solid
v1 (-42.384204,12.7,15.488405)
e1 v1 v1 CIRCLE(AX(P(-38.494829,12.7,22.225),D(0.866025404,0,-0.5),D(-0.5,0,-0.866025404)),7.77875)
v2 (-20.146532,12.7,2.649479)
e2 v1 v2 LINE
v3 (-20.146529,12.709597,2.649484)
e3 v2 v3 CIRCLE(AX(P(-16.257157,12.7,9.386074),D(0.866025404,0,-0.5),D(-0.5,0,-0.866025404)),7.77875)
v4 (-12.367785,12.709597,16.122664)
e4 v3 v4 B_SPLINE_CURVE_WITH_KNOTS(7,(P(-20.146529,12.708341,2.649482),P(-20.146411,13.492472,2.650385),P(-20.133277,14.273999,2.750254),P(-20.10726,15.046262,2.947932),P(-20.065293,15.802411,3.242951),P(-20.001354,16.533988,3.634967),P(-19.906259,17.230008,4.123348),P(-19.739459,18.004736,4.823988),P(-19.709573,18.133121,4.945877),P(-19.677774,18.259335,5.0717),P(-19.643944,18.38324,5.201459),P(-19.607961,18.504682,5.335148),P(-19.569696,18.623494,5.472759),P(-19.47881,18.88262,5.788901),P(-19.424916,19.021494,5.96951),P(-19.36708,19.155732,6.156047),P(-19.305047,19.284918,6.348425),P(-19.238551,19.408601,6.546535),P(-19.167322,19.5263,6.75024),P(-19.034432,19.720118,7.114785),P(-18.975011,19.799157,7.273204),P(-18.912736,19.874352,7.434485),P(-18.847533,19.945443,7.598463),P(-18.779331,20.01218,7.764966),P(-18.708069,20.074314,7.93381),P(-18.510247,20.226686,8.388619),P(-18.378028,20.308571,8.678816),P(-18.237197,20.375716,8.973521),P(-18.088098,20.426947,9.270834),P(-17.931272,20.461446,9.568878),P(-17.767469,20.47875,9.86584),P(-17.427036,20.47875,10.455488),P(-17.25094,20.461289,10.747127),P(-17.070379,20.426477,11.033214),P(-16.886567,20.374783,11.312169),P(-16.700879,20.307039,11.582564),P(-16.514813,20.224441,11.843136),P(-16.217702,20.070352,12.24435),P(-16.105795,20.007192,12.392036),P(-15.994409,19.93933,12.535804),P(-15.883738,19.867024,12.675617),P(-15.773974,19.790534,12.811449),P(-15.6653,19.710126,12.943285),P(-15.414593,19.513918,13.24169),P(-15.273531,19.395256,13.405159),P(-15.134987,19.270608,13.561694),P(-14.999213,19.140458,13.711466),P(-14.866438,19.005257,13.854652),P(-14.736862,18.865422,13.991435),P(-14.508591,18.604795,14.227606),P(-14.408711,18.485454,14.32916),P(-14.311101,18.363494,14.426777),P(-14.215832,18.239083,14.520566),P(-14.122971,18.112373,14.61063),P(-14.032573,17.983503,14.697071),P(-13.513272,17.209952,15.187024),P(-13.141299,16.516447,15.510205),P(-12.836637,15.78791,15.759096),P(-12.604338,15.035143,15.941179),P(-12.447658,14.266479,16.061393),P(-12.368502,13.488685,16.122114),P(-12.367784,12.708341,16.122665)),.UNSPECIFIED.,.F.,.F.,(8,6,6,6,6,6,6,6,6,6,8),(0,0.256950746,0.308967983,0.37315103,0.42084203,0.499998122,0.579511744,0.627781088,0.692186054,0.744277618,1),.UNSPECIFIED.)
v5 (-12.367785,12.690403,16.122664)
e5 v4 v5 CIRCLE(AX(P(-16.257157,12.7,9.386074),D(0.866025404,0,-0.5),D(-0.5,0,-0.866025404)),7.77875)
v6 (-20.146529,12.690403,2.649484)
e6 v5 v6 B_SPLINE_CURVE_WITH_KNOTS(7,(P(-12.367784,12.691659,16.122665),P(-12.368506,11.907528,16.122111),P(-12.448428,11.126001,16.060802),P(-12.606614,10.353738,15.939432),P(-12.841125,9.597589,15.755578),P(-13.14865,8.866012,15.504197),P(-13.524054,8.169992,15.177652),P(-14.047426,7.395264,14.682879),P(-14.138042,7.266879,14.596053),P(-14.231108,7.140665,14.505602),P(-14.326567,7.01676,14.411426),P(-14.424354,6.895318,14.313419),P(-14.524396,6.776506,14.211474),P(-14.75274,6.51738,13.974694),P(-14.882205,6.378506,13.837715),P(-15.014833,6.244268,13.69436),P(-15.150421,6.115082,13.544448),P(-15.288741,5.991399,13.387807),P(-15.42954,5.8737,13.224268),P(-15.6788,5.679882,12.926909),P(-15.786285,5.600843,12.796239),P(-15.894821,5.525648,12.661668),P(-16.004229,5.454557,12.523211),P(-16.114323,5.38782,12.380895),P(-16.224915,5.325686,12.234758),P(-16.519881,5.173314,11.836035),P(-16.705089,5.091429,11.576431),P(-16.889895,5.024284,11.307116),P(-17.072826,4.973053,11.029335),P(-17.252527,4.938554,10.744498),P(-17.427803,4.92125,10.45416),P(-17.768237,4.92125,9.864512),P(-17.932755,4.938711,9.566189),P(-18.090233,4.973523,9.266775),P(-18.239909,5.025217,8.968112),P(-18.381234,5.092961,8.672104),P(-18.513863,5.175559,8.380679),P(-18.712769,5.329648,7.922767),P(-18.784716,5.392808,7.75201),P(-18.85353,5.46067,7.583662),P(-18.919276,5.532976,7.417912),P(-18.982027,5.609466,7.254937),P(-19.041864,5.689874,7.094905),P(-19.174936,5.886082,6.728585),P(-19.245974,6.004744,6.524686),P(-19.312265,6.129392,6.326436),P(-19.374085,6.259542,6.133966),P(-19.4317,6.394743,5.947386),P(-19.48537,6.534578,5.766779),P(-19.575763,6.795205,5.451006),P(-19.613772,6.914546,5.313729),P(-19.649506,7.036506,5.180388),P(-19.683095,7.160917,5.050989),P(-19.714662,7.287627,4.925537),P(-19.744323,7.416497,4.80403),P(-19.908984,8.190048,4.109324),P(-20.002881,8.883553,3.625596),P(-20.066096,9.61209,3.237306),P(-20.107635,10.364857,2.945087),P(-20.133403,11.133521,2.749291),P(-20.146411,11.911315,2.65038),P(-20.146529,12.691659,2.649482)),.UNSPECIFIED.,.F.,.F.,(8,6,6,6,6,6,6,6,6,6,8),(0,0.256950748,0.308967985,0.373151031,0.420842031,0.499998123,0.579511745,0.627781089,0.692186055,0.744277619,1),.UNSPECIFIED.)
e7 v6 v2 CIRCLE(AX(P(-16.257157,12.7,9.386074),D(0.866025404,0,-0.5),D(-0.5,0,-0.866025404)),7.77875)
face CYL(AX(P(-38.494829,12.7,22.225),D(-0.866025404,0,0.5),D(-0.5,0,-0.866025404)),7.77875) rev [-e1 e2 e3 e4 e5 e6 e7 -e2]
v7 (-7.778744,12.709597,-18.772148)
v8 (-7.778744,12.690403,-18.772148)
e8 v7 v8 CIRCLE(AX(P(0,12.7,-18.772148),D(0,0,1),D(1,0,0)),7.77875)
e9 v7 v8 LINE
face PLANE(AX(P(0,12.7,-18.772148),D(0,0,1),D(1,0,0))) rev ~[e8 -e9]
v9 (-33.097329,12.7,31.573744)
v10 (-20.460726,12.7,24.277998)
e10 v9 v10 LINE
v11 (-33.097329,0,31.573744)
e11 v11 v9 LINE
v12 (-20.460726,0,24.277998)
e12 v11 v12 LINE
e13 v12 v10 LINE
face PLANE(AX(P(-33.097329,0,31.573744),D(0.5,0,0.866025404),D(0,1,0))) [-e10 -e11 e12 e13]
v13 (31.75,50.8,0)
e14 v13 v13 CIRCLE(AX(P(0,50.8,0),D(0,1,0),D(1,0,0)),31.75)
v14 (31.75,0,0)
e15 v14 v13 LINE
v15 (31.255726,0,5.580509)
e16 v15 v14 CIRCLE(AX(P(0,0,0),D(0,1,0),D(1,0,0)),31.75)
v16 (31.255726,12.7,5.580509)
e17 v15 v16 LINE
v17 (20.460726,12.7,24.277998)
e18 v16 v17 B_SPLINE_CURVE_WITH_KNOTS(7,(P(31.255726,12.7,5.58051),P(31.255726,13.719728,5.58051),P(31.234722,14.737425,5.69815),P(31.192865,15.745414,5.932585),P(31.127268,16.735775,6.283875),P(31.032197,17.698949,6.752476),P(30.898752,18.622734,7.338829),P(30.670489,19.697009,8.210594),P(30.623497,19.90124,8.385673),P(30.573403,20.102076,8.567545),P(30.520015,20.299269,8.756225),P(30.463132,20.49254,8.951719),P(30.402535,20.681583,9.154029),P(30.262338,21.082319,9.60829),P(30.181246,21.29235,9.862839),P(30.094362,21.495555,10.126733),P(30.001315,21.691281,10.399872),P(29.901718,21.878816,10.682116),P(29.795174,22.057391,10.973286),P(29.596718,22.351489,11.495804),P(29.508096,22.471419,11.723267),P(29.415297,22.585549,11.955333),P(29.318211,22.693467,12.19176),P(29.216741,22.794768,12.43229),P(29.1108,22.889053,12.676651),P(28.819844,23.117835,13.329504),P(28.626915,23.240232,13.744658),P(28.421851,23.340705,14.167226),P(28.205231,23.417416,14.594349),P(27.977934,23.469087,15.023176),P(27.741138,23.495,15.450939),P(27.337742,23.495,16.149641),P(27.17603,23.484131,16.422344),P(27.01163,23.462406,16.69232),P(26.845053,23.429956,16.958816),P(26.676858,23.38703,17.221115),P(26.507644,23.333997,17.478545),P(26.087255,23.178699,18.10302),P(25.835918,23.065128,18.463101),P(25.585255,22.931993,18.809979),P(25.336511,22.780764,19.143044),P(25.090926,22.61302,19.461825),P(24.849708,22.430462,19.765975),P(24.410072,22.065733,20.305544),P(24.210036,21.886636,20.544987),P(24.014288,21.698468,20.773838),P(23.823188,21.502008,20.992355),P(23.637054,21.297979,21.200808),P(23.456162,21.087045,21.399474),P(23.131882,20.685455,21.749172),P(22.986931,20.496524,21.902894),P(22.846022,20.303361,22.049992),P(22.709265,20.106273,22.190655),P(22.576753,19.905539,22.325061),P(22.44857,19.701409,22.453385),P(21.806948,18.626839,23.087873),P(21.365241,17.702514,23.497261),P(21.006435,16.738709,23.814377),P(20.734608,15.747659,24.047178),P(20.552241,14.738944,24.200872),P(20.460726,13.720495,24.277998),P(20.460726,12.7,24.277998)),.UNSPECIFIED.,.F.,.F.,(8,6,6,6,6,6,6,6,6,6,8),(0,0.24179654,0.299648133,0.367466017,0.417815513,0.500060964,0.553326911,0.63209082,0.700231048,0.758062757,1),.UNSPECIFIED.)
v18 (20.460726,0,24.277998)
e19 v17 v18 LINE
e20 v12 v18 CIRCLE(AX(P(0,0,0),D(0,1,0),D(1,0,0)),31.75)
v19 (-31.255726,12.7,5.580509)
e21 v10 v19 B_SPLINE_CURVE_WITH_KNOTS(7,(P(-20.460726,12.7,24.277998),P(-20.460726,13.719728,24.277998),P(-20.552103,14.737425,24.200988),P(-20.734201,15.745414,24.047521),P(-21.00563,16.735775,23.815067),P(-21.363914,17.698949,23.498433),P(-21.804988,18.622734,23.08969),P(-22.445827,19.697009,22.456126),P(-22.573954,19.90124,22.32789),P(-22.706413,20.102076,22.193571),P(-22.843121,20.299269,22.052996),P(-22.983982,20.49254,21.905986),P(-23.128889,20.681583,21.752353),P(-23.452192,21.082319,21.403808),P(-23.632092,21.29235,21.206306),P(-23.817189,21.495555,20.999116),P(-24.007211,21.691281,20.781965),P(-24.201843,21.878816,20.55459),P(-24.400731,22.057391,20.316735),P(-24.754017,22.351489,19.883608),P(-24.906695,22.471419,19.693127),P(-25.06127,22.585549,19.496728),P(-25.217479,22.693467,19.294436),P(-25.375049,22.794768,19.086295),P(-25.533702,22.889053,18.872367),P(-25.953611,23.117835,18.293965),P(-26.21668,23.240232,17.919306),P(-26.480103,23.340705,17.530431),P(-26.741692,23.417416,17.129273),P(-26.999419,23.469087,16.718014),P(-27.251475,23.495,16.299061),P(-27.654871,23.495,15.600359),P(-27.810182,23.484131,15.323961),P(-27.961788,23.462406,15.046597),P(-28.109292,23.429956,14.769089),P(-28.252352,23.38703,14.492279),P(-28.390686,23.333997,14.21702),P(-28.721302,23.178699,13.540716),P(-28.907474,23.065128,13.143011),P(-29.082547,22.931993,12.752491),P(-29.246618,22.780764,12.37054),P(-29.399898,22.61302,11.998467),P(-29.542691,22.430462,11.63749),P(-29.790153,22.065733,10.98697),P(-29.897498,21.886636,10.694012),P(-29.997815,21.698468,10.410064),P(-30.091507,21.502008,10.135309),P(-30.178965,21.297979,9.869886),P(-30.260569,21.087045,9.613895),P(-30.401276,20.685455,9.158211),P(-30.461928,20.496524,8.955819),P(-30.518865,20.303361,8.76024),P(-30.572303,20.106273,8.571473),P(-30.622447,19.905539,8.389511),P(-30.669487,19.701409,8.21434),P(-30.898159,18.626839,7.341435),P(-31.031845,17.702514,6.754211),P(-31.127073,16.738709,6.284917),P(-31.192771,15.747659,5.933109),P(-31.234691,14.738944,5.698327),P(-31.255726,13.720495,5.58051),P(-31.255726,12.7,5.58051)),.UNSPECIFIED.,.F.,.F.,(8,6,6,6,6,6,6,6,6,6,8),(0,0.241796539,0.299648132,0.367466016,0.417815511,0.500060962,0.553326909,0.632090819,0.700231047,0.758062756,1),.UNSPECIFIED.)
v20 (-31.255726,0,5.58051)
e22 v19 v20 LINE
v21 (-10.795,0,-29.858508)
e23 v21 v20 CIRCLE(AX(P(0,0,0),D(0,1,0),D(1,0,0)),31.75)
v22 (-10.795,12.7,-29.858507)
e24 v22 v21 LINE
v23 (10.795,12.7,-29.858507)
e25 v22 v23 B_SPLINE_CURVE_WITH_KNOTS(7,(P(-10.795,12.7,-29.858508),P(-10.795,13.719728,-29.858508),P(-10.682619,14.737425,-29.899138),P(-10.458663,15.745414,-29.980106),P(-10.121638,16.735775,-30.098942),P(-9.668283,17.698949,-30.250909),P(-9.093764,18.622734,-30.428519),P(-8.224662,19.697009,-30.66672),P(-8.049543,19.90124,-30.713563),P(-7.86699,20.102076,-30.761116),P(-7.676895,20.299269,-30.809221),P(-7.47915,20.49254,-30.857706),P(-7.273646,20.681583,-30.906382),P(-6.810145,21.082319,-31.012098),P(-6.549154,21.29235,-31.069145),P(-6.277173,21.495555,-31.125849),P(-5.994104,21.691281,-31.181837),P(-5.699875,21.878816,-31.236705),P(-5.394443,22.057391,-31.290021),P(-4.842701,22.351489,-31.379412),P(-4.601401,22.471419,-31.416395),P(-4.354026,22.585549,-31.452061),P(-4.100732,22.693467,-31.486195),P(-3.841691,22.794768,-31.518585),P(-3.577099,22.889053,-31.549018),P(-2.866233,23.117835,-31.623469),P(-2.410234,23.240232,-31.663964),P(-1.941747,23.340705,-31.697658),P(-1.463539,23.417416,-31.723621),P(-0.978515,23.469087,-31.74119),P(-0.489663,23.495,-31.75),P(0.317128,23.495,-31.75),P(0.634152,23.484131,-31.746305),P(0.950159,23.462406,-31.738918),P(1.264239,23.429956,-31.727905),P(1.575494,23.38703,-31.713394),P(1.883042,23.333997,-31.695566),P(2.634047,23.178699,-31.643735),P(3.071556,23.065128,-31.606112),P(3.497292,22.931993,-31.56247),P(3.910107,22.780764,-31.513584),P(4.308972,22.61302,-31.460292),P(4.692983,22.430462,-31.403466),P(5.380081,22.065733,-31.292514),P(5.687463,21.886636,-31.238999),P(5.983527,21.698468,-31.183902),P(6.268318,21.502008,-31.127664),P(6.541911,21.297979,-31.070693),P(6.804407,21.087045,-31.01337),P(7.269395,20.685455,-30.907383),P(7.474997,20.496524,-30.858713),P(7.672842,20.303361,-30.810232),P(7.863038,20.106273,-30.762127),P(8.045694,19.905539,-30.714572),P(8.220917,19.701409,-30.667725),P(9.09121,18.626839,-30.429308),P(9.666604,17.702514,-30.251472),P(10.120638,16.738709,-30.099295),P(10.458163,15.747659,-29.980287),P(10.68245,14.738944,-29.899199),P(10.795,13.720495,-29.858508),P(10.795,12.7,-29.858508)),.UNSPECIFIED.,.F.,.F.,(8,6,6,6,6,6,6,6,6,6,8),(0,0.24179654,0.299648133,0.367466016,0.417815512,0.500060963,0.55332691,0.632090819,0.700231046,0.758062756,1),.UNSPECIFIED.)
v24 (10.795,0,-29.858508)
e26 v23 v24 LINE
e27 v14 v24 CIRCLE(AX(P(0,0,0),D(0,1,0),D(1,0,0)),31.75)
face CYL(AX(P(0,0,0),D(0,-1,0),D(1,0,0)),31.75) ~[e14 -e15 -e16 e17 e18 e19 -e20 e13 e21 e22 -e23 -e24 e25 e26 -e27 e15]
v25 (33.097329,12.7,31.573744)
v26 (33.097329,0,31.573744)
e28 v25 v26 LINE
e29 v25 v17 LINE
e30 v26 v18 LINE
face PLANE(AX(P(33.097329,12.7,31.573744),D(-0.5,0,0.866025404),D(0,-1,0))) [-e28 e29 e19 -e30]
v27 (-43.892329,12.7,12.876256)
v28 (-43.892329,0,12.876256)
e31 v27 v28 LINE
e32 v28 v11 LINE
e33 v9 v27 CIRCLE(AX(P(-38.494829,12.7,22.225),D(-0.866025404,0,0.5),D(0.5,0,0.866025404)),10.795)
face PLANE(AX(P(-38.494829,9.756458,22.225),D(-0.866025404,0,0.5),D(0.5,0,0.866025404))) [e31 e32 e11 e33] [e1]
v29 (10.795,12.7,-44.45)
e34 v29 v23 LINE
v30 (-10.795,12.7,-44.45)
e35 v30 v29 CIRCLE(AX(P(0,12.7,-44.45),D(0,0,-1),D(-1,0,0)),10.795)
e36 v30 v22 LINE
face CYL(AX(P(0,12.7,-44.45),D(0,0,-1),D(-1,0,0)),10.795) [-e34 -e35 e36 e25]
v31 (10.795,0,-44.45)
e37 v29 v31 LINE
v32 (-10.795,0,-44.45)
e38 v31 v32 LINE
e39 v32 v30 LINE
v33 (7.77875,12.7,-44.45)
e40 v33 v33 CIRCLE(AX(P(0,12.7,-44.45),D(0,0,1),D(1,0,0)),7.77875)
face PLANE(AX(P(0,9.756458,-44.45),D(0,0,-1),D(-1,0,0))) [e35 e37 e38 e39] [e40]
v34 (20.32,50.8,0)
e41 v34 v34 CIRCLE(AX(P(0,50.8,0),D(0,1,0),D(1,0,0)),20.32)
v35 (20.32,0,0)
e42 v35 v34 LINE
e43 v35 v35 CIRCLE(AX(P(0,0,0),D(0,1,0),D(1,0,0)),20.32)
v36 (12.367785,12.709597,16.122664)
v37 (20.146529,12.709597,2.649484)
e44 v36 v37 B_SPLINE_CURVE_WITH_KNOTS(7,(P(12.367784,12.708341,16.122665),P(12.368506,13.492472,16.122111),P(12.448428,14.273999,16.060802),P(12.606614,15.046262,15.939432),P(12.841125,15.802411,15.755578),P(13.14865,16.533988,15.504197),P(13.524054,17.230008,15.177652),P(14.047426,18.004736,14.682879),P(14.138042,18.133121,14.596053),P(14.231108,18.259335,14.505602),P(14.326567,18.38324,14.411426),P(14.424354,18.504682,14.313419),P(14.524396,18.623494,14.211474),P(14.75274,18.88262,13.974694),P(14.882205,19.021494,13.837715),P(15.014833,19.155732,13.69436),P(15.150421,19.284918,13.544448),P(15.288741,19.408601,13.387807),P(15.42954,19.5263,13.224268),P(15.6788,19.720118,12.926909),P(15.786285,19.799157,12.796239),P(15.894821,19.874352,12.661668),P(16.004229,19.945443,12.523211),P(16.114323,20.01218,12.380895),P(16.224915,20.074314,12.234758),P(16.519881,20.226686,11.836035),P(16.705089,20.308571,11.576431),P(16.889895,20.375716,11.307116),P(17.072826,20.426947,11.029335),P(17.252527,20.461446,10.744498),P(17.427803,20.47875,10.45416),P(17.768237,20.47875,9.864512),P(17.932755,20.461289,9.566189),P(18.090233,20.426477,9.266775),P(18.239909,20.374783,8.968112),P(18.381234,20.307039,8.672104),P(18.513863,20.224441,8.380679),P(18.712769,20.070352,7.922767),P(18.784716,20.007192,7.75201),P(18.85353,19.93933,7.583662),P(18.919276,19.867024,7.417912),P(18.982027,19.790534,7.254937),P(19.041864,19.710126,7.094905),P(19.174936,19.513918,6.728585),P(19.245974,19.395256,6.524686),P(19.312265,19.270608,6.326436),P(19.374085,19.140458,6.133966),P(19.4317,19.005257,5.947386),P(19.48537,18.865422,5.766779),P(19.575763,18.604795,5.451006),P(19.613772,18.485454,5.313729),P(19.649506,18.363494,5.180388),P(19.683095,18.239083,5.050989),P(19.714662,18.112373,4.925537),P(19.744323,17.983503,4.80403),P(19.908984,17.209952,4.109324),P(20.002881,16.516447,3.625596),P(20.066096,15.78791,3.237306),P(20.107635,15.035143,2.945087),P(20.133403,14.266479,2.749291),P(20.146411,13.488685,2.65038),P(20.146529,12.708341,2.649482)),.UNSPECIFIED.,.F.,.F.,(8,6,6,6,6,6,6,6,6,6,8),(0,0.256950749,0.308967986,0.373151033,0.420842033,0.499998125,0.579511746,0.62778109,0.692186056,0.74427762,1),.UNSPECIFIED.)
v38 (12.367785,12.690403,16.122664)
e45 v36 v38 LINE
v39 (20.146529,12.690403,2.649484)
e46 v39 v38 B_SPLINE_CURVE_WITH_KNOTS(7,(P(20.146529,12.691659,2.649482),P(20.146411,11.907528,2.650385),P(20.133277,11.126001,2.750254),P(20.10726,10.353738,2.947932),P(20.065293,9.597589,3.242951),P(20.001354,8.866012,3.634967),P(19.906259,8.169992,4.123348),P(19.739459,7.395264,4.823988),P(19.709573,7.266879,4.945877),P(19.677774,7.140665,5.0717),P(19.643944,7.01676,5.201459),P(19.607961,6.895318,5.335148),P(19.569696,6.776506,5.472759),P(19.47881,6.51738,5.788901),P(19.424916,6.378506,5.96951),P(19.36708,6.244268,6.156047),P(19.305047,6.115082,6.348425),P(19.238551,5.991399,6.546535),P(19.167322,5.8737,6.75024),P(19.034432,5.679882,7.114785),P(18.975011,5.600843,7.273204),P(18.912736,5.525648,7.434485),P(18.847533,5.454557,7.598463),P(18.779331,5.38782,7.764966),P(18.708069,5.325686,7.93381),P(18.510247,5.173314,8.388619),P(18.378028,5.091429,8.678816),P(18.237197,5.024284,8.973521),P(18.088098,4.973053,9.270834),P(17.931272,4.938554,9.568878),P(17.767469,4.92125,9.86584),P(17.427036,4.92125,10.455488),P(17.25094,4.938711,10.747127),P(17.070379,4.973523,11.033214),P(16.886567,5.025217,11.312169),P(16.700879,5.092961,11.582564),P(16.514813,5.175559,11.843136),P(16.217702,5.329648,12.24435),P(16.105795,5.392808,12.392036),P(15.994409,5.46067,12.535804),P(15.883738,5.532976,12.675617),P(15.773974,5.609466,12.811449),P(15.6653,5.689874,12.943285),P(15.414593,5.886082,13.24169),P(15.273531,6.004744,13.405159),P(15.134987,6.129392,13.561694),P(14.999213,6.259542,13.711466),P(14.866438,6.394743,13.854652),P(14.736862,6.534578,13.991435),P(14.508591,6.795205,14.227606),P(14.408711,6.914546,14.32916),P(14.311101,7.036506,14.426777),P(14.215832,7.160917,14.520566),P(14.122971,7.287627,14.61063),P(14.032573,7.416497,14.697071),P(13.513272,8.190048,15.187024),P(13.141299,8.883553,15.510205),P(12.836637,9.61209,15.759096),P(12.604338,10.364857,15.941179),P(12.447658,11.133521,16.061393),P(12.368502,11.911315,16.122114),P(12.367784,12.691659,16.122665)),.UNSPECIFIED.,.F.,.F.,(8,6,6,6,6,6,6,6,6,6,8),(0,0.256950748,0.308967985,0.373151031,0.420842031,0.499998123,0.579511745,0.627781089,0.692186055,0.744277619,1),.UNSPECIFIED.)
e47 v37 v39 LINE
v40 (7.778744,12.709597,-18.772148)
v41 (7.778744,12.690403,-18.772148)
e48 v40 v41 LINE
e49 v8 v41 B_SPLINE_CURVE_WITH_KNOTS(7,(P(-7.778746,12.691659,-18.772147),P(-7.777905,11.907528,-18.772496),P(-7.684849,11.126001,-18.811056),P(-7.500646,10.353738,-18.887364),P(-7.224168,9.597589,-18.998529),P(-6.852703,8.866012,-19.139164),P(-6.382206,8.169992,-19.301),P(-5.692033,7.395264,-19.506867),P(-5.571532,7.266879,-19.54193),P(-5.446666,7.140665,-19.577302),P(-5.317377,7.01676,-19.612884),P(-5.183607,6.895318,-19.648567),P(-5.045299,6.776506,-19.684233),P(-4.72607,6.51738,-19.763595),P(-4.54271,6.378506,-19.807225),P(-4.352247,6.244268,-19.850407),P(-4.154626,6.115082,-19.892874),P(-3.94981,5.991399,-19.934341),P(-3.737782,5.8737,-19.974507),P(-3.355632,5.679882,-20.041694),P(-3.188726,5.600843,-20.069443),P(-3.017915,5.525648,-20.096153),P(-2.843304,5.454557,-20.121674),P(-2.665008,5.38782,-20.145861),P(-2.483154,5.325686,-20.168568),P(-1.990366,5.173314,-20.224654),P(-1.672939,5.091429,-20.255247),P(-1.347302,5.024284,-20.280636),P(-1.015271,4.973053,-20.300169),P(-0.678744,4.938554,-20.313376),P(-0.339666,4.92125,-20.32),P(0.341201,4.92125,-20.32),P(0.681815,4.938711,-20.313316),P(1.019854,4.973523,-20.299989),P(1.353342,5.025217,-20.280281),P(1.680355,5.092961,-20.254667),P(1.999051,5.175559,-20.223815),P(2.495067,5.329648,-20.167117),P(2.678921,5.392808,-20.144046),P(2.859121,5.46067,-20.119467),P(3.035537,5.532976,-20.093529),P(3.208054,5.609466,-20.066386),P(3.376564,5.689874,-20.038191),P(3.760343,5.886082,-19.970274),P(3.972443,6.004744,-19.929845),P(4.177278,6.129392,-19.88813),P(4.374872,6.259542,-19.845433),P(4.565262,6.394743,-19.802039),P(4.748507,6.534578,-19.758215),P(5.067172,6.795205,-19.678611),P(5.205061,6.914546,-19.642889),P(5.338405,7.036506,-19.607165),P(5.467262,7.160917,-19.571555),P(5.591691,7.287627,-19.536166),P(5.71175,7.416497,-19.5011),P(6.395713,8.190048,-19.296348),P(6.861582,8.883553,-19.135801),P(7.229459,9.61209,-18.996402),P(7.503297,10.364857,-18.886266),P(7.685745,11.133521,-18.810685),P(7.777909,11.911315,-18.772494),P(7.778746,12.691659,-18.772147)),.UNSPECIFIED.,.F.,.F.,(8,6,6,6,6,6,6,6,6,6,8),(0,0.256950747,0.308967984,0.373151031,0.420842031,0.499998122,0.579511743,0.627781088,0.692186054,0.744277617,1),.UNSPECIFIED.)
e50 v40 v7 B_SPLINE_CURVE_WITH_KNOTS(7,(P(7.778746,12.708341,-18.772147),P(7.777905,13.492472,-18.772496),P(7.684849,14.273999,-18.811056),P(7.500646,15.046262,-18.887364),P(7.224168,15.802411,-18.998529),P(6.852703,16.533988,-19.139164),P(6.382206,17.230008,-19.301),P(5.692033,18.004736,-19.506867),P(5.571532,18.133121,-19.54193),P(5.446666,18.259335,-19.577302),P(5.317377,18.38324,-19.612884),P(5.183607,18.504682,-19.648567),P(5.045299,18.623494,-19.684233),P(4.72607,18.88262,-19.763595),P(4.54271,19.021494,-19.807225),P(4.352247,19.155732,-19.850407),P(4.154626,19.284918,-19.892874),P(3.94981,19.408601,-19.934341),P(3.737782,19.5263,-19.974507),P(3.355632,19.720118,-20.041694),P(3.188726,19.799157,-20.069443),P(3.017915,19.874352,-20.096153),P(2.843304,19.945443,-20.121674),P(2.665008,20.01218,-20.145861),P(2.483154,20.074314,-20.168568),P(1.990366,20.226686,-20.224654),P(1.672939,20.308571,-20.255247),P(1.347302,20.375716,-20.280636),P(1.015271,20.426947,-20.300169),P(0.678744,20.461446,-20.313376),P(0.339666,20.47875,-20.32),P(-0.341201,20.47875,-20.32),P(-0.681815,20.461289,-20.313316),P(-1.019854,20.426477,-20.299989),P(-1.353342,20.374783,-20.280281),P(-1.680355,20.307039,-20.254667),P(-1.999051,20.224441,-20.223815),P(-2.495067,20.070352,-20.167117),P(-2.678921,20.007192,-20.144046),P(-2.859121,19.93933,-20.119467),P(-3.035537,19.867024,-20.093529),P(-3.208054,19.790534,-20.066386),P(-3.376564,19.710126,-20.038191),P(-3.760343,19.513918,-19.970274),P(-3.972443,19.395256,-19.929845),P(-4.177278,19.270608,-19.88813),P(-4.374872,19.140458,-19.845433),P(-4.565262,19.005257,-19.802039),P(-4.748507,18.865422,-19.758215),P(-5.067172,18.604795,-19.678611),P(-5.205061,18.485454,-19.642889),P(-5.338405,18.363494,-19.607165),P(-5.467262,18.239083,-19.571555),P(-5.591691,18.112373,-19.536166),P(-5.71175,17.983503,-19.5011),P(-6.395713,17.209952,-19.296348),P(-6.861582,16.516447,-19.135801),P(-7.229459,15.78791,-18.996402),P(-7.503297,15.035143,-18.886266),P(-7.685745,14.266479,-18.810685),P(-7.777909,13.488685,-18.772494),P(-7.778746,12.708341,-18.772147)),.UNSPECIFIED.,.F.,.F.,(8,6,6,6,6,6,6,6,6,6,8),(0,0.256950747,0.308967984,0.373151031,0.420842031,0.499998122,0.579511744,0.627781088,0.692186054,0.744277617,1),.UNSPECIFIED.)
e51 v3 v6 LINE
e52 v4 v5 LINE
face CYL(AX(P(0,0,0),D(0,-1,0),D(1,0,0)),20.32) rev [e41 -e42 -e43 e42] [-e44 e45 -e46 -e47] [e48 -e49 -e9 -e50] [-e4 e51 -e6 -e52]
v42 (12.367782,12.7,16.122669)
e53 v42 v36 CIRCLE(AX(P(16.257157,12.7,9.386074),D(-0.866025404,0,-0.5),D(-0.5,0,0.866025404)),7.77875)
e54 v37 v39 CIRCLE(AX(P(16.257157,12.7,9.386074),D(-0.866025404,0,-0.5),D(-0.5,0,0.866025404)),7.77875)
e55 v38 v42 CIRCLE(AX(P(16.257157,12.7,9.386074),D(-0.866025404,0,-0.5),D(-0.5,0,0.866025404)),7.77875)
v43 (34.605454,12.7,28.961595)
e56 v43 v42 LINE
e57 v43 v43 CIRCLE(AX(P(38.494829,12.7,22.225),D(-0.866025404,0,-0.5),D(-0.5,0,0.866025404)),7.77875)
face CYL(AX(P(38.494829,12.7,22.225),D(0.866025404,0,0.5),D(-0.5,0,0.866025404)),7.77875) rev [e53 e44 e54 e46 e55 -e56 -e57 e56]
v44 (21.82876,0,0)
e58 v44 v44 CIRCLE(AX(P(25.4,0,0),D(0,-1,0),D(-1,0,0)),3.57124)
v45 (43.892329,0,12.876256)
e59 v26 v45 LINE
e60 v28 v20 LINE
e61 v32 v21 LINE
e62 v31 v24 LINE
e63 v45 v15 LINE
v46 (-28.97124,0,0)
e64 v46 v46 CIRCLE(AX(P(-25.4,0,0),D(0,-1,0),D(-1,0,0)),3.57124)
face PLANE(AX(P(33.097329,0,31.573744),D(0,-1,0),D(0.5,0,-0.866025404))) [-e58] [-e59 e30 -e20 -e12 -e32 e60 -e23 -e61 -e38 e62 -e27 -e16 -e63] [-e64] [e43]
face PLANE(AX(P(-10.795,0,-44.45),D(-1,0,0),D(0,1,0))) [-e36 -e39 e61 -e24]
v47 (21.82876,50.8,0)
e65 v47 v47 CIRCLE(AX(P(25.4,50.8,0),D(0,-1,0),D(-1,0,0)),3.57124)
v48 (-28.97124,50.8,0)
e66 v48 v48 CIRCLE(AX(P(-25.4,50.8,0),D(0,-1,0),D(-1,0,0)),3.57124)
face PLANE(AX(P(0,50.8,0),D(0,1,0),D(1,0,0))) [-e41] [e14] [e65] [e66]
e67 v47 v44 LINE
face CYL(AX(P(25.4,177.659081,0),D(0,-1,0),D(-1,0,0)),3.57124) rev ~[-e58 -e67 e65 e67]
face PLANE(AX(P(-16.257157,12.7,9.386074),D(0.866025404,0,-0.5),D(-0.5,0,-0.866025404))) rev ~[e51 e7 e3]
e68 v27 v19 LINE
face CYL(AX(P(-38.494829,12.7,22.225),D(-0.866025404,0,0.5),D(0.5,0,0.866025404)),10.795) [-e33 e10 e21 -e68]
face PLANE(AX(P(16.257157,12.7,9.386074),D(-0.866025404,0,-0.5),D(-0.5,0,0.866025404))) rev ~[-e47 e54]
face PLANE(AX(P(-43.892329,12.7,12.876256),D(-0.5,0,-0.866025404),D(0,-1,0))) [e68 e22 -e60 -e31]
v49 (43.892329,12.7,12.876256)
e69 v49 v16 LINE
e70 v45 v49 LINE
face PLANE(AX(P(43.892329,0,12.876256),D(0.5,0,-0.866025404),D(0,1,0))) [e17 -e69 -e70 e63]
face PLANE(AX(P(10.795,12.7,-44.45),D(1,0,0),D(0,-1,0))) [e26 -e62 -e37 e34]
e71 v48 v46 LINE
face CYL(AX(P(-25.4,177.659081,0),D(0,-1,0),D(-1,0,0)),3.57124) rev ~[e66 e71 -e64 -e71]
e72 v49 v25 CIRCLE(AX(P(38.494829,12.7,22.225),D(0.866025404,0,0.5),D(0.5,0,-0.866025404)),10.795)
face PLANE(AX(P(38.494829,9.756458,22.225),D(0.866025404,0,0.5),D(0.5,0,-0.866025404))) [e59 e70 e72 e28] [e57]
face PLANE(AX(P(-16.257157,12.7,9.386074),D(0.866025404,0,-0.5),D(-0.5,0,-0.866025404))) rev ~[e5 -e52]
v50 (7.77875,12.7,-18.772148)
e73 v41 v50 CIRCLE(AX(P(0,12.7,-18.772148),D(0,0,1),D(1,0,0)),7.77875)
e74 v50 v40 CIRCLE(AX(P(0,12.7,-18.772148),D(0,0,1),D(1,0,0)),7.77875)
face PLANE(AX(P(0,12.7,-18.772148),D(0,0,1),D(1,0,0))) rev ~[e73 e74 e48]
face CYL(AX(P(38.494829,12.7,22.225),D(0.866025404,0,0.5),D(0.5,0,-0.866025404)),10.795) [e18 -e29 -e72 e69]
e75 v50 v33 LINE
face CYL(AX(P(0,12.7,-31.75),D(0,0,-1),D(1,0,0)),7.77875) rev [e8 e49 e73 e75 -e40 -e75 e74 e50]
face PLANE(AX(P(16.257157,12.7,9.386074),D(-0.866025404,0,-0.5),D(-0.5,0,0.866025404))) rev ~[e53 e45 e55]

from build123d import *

# Parameters (mm, degrees)
SKETCH1_R               = 31.75
SKETCH1_R_2             = 20.32
BOSS_EXTRUDE1_DEPTH     = 50.8
BOSS_EXTRUDE2_START     = -12.7
SKETCH2_R               = 7.77875
BOSS_EXTRUDE2_DEPTH     = 14.591493
SKETCH2_2_R             = 7.77875
CUT_EXTRUDE1_DEPTH      = 12.977852
CIRPATTERN1_COUNT       = 3
F_1_4_CLEARANCE_HOLE1_D = 7.14248


with BuildPart() as part:
    # Sketch1 → Boss-Extrude1 (new body)
    with BuildSketch(Plane(origin=(0, 0, 0), x_dir=(1, 0, 0), z_dir=(0, 1, 0))):
        Circle(SKETCH1_R)
        Circle(SKETCH1_R_2, mode=Mode.SUBTRACT)
    extrude(amount=BOSS_EXTRUDE1_DEPTH)

    # Sketch2 → Boss-Extrude2 (add)
    with BuildSketch(Plane.XY.offset(-31.75).offset(BOSS_EXTRUDE2_START)):
        with BuildLine():
            Line((10.795, 12.7), (10.795, 0))
            Line((10.795, 0), (-10.795, 0))
            Line((-10.795, 0), (-10.795, 12.7))
            ThreePointArc((-10.795, 12.7), (0, 23.495), (10.795, 12.7))
        make_face()
        with Locations((0, 12.7)):
            Circle(SKETCH2_R, mode=Mode.SUBTRACT)
    boss_extrude2 = extrude(amount=BOSS_EXTRUDE2_DEPTH)

    # Sketch2<2> → Cut-Extrude1 (cut)
    with BuildSketch(Plane.XY.offset(-31.75)):
        with Locations((0, 12.7)):
            Circle(SKETCH2_2_R)
    cut_extrude1 = extrude(amount=CUT_EXTRUDE1_DEPTH, mode=Mode.SUBTRACT)

    # CirPattern1: Boss-Extrude2, Cut-Extrude1 ×3 about axis
    cirpattern1_axis = Axis((0, 0, 0), (0, 1, 0))
    for i in range(1, CIRPATTERN1_COUNT):
        add(boss_extrude2.rotate(cirpattern1_axis, i * 360 / CIRPATTERN1_COUNT))
        add(cut_extrude1.rotate(cirpattern1_axis, i * 360 / CIRPATTERN1_COUNT), mode=Mode.SUBTRACT)

    # 1/4 Clearance Hole1 (through all)
    with Locations(Plane(origin=(0, 50.8, 0), x_dir=(1, 0, 0), z_dir=(0, 1, 0))):
        with Locations((-25.4, 0), (25.4, 0)):
            Hole(F_1_4_CLEARANCE_HOLE1_D / 2)


solid = part.part
